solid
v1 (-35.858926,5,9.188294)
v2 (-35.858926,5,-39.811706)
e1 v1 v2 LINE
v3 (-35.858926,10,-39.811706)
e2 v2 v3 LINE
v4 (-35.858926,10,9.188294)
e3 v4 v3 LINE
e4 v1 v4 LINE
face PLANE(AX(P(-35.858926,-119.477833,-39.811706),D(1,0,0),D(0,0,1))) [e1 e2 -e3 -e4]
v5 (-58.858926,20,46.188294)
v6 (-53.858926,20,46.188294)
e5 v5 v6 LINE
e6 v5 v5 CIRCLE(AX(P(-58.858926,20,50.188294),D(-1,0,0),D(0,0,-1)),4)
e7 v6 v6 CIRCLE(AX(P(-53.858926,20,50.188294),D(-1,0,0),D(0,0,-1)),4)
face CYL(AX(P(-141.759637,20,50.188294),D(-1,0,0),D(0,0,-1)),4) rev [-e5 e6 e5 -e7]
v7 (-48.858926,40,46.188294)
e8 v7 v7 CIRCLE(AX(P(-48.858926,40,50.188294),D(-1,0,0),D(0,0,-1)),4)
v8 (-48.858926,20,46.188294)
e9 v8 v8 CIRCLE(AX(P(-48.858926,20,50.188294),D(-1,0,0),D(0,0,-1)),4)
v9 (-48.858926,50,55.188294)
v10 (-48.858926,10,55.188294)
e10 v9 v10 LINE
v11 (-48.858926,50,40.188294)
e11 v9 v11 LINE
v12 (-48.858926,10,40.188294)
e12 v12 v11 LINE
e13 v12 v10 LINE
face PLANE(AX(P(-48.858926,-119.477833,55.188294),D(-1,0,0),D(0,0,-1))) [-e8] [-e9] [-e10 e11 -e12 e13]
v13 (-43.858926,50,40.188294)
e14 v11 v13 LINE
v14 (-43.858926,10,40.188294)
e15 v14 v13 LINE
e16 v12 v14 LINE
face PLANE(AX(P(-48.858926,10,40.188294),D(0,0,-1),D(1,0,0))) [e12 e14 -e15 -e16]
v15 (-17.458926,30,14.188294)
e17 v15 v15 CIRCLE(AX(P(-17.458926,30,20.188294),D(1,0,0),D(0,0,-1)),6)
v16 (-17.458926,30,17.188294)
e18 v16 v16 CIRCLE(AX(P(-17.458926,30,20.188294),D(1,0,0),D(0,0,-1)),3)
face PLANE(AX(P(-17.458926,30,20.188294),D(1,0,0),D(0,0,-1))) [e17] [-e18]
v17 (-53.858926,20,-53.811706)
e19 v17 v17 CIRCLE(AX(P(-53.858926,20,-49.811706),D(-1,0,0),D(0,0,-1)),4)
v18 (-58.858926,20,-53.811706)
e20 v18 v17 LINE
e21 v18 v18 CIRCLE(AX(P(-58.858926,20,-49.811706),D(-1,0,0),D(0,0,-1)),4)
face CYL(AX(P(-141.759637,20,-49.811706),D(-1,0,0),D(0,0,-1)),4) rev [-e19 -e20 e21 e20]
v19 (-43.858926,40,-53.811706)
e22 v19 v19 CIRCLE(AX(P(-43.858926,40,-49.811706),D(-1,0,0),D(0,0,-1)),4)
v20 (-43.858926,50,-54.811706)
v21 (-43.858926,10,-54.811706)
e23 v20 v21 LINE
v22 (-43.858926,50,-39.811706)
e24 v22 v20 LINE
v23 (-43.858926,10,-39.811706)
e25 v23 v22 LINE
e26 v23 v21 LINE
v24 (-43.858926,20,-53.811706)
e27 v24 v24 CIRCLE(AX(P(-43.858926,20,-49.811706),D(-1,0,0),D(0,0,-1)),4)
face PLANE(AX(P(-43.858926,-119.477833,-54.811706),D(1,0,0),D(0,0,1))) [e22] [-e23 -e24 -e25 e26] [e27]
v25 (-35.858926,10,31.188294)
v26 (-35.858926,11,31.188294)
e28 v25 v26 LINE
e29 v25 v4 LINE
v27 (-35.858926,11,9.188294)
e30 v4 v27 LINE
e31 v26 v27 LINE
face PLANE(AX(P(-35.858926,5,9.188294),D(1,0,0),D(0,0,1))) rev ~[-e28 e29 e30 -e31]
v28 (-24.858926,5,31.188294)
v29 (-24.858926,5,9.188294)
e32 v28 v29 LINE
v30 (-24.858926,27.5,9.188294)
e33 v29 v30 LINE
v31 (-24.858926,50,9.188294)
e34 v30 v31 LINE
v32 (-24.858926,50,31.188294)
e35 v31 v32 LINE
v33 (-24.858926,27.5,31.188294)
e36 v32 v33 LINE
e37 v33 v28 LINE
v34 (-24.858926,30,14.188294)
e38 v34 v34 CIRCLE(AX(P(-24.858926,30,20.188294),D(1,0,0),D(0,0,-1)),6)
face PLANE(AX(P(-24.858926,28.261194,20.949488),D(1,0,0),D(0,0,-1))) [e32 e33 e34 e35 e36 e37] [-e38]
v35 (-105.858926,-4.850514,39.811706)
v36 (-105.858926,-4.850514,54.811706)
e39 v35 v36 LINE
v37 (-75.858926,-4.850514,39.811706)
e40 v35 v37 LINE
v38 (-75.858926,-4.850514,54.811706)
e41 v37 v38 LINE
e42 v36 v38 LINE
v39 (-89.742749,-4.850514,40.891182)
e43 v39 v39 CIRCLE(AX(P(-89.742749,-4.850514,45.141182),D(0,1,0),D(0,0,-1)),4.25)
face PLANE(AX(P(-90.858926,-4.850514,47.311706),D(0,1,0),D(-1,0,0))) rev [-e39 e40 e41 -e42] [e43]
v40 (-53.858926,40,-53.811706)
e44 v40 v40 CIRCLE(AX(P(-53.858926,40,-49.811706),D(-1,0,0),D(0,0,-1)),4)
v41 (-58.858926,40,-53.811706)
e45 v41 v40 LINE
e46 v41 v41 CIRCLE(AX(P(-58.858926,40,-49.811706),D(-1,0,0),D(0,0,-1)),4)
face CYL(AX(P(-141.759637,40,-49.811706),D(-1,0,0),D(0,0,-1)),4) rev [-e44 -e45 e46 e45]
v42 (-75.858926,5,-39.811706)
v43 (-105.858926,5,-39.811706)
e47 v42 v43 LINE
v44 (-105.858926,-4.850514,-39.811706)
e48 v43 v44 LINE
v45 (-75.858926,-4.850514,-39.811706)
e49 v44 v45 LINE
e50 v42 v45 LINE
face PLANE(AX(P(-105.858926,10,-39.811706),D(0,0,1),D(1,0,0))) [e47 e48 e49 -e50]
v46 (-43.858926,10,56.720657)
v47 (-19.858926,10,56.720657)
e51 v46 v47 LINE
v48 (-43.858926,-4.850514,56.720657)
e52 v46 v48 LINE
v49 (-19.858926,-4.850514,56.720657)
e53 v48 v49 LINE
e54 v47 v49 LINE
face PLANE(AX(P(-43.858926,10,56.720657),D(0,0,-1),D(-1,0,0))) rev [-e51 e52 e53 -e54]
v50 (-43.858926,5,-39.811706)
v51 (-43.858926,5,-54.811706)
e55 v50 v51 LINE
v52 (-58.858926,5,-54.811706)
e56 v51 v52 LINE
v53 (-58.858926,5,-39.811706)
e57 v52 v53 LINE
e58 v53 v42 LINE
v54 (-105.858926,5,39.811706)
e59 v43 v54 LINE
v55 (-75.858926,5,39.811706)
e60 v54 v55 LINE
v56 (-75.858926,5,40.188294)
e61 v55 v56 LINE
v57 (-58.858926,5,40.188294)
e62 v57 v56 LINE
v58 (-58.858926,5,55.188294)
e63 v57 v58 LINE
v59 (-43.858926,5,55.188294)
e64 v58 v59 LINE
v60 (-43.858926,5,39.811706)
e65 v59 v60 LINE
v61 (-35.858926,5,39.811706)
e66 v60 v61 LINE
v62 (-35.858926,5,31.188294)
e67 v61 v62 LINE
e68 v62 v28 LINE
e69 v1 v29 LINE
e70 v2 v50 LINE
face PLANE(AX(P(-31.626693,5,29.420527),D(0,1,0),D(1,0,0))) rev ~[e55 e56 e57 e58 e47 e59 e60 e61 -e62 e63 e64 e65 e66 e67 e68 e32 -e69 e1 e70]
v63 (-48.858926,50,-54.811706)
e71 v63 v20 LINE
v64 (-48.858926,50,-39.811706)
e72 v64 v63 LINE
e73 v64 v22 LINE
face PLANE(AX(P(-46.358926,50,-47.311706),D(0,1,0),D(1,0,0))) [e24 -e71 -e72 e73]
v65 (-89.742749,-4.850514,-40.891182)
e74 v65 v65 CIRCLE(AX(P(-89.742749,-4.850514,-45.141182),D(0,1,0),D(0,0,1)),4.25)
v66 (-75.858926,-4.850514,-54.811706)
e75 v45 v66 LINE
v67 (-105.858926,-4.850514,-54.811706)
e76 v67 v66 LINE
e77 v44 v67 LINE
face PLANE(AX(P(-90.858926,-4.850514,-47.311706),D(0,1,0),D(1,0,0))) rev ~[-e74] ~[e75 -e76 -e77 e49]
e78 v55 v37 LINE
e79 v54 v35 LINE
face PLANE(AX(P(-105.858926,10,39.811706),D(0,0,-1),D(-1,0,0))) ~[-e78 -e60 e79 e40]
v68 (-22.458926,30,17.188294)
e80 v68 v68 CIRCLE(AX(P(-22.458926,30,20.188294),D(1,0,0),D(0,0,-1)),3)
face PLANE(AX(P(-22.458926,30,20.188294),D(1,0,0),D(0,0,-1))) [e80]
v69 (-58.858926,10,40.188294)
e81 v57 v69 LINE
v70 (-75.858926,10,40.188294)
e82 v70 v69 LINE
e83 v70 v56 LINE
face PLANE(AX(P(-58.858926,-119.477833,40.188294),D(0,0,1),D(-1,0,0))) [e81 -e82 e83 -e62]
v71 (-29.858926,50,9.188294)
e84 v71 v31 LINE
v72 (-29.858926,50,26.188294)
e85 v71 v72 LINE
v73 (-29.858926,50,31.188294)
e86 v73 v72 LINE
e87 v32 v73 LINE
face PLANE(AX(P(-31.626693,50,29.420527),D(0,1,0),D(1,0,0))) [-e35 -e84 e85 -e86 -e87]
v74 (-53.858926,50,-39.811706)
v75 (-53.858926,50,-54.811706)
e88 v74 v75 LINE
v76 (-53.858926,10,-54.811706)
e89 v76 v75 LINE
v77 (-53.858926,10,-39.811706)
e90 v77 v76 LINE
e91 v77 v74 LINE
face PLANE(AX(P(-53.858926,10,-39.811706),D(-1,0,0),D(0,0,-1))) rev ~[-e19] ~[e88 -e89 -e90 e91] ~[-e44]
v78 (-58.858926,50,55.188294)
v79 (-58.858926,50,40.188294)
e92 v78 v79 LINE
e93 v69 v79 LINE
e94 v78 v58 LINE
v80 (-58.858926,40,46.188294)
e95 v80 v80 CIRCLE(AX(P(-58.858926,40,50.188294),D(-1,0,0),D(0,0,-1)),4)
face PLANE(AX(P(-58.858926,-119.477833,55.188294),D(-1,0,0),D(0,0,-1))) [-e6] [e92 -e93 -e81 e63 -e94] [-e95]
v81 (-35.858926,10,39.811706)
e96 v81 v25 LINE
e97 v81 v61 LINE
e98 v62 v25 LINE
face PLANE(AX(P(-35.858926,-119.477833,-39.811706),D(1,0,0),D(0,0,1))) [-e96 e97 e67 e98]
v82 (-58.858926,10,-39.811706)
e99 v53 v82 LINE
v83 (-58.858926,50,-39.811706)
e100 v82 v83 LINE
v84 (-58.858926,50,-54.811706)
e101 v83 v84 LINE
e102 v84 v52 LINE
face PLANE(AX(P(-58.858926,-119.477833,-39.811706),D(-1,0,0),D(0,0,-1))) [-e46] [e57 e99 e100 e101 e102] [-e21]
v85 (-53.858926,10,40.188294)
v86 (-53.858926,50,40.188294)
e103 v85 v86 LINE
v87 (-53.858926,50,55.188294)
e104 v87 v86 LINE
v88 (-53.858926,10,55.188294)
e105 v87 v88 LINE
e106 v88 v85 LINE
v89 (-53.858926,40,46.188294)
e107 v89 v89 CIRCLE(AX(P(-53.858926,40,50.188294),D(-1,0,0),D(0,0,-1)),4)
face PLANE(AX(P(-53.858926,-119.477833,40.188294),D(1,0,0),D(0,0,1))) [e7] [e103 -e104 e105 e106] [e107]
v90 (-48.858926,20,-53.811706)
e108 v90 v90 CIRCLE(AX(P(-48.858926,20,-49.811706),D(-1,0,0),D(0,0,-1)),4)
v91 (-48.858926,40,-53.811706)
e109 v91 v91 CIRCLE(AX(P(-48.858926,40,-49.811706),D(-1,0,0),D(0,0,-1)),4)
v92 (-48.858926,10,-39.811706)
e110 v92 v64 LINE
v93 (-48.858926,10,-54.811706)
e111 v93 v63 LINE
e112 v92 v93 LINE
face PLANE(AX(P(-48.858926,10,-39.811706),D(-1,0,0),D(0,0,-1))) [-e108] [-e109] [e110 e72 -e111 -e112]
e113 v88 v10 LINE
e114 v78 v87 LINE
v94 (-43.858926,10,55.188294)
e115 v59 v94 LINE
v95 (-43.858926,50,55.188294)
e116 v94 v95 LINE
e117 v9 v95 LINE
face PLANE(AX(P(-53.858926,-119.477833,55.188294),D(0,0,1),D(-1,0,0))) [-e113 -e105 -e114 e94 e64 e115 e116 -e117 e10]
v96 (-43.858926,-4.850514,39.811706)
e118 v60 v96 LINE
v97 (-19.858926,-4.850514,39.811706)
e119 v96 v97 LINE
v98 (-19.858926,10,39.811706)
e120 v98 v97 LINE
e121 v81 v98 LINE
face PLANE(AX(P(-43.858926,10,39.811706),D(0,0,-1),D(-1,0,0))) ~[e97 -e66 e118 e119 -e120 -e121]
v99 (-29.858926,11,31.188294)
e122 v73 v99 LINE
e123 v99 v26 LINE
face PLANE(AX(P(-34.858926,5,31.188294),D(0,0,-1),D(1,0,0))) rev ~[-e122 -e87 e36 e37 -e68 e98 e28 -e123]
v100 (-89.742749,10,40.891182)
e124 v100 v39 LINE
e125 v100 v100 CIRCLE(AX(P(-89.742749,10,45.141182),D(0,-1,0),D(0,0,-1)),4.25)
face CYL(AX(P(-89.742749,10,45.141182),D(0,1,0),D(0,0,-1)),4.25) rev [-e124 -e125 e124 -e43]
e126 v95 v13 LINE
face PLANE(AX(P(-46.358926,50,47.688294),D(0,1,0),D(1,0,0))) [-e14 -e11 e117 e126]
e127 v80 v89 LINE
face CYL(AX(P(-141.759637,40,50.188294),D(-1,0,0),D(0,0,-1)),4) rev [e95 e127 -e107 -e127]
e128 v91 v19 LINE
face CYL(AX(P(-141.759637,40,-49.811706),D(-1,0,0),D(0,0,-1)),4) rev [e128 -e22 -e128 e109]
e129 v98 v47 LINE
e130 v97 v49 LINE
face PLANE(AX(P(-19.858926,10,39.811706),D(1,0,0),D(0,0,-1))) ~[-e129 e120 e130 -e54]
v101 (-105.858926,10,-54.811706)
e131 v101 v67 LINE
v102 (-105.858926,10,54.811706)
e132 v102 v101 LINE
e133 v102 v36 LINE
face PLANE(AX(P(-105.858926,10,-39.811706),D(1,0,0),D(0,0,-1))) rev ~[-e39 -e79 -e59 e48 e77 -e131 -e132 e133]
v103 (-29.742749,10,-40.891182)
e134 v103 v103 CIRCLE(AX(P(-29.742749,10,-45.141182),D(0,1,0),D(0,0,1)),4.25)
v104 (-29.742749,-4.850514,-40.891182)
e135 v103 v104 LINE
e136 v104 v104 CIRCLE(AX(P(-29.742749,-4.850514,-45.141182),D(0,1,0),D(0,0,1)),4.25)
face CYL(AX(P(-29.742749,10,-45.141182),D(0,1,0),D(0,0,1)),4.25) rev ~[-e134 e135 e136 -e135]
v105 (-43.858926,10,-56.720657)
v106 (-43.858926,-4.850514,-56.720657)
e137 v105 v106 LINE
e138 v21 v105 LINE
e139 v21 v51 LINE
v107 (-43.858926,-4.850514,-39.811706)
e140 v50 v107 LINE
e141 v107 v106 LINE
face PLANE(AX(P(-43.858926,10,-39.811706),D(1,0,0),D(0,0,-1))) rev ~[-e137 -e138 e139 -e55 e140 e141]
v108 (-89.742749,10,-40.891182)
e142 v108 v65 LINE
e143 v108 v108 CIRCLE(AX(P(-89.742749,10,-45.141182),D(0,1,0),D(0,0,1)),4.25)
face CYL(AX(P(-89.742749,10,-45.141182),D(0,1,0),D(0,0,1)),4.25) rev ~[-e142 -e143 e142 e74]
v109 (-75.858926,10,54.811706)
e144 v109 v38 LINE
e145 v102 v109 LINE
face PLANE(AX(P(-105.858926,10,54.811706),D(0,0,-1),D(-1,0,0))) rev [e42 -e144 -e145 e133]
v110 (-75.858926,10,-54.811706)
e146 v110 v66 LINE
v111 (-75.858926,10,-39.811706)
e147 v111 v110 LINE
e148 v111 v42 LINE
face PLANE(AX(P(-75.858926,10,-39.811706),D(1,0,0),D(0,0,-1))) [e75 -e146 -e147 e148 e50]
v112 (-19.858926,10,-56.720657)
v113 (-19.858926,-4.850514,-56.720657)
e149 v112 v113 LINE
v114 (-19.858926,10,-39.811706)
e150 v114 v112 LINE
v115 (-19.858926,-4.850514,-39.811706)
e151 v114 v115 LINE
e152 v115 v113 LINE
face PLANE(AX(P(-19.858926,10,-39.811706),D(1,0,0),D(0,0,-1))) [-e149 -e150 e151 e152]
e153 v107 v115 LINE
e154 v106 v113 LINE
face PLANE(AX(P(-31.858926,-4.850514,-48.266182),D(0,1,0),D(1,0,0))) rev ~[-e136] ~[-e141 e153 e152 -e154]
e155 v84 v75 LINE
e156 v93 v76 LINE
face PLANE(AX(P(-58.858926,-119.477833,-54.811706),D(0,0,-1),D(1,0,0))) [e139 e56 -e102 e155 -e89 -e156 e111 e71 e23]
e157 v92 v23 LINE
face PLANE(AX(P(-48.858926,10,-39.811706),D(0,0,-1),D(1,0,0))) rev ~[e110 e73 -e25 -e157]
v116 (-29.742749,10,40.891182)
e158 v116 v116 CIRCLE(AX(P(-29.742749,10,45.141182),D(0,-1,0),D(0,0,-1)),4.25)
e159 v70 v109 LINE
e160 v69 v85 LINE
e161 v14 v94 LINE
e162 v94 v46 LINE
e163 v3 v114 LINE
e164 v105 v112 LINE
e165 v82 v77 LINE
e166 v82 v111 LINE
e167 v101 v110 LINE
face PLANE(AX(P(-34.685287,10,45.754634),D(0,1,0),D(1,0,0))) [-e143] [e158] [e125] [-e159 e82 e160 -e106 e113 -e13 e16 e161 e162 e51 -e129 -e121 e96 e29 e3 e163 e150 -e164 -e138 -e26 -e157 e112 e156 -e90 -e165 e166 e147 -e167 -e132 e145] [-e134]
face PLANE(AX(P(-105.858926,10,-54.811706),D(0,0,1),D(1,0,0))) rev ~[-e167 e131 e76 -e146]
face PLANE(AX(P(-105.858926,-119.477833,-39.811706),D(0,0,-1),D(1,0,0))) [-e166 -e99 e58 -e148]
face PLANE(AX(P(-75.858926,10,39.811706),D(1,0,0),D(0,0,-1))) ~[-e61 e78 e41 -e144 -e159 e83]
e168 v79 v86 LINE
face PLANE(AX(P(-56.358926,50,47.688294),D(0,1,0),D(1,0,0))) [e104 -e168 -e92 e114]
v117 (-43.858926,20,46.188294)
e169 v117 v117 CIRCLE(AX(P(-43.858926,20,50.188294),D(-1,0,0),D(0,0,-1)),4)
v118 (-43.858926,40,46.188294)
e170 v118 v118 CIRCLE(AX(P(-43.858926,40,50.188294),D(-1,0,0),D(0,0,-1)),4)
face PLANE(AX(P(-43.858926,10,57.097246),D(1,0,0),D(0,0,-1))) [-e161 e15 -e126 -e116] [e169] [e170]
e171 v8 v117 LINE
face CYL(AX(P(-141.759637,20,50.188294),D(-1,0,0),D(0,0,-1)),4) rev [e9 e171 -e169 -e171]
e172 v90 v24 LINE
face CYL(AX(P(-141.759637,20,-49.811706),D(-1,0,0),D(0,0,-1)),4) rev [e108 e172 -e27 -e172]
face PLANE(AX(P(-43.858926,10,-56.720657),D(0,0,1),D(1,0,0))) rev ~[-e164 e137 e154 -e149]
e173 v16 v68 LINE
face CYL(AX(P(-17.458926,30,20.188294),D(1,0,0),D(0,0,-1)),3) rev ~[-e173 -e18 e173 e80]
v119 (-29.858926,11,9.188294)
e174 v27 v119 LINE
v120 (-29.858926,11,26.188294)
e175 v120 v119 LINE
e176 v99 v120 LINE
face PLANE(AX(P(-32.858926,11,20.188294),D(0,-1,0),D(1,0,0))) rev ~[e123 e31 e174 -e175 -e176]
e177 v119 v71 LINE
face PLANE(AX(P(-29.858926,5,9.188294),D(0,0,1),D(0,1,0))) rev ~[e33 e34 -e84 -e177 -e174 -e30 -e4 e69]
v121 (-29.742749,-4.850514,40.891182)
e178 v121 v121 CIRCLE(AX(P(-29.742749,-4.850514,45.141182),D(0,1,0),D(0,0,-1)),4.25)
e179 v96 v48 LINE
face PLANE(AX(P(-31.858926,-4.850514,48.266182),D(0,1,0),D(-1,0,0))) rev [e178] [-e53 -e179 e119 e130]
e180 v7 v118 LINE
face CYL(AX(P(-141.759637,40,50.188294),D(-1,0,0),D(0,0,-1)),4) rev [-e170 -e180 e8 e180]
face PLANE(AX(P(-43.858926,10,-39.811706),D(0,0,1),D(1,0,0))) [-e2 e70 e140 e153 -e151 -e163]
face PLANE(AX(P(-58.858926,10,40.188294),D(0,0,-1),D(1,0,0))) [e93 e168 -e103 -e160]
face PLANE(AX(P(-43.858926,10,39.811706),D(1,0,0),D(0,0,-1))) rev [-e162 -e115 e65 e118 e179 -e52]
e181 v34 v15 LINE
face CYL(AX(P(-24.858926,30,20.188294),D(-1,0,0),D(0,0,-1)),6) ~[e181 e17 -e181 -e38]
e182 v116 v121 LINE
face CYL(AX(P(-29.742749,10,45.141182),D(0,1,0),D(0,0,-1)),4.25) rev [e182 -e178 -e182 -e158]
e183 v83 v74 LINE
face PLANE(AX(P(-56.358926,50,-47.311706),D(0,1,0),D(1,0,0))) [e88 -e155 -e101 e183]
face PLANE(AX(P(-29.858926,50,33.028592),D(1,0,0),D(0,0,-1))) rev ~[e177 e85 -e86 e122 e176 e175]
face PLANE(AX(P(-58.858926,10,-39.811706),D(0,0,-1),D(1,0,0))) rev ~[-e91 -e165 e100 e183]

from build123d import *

# Parameters (mm, degrees)
SKETCH_1_W                = 211.717851242
SKETCH_1_H                = 121.662509304
EXTRUDE_1_DEPTH           = 10
SKETCH_2_W                = 5
SKETCH_2_H                = 15
EXTRUDE_2_DEPTH           = 40
CUT_EXTRUDE_1_DEPTH       = 129.477833404
CUT_EXTRUDE_1_DEPTH_BACK  = 129.477833404
SKETCH_3_OUTSIDE_W        = 263.568
SKETCH_3_OUTSIDE_H        = 173.512
SKETCH_4_W                = 15
SKETCH_4_H                = 15
EXTRUDE_3_DEPTH           = 10
CUT_EXTRUDE_2_DEPTH       = 130.428976448
CUT_EXTRUDE_2_DEPTH_BACK  = 5
SKETCH_5_W                = 251.048169007
SKETCH_5_H                = 208.83861988
CUT_EXTRUDE_3_DEPTH       = 97.900711095
CUT_EXTRUDE_3_DEPTH_BACK  = 97.900711095
SKETCH_7_R                = 4
SKETCH_8_W                = 6
SKETCH_8_H                = 22
EXTRUDE_6_DEPTH           = 6
CUT_EXTRUDE_4_DEPTH       = 128.58079771
CUT_EXTRUDE_4_DEPTH_BACK  = 128.58079771
SKETCH_10_W               = 17
SKETCH_10_H               = 6
EXTRUDE_7_DEPTH           = 5
SKETCH_11_R               = 11
EXTRUDE_8_DEPTH           = 0.6
SKETCH_12_R               = 6
EXTRUDE_9_DEPTH           = 7.4
CUT_EXTRUDE_10_DEPTH      = 116.586797735
CUT_EXTRUDE_10_DEPTH_BACK = 3
SKETCH_13_R               = 3
EXTRUDE_10_DEPTH          = 45
SKETCH_15_R               = 9.319080667
CUT_EXTRUDE_11_DEPTH      = 38
SKETCH_16_R               = 6
EXTRUDE_11_DEPTH          = 7.4
SKETCH_17_R               = 3
CUT_EXTRUDE_12_DEPTH      = 5
SKETCH_18_W               = 30
SKETCH_18_H               = 15
EXTRUDE_12_DEPTH          = 14.850514471
EXTRUDE_13_DEPTH          = 14.850514471
SKETCH_22_W               = 24
SKETCH_22_H               = 16.908951495
EXTRUDE_14_DEPTH          = 14.850514471
SKETCH_23_R               = 4.25
CUT_EXTRUDE_15_DEPTH      = 60
EXTRUDE_15_DEPTH          = 14.850514471
SKETCH_25_R               = 4.25
CUT_EXTRUDE_16_DEPTH      = 60
SKETCH_19_R               = 4.25
CUT_EXTRUDE_17_DEPTH      = 60
SKETCH_26_W               = 38.044769018
SKETCH_26_H               = 21.34609726
SKETCH_26_W_2             = 24.699869201
SKETCH_26_H_2             = 16.908951494
CUT_EXTRUDE_18_DEPTH      = 60
SKETCH_27_W               = 6.321147669
SKETCH_27_H               = 14.747228213
CUT_EXTRUDE_19_DEPTH      = 39


with BuildPart() as part:
    # 草图1 → 凸台-拉伸1 (new body)
    with BuildSketch(Plane(origin=(0, 0, 0), x_dir=(1, 0, 0), z_dir=(0, 1, 0))):
        Rectangle(SKETCH_1_W, SKETCH_1_H)
    extrude(amount=EXTRUDE_1_DEPTH)

    # 草图2 → 凸台-拉伸2 (add)
    with BuildSketch(Plane(origin=(0, 10, 0), x_dir=(1, 0, 0), z_dir=(0, 1, 0))):
        with Locations((-46.358925621, 47.311705854)):
            Rectangle(SKETCH_2_W, SKETCH_2_H)
        with Locations((-56.358925621, 47.311705854)):
            Rectangle(SKETCH_2_W, SKETCH_2_H)
        with Locations((-46.358925621, -47.688294146)):
            Rectangle(SKETCH_2_W, SKETCH_2_H)
        with Locations((-56.358925621, -47.688294146)):
            Rectangle(SKETCH_2_W, SKETCH_2_H)
    extrude(amount=EXTRUDE_2_DEPTH)

    # 草图3 outside → 切除-拉伸1 (cut, two sides: drawn at the far end of the back side and taken through both)
    with BuildSketch(Plane(origin=(0, 10, 0), x_dir=(1, 0, 0), z_dir=(0, 1, 0)).offset(-CUT_EXTRUDE_1_DEPTH_BACK)):
        Rectangle(SKETCH_3_OUTSIDE_W, SKETCH_3_OUTSIDE_H)
        Polygon((-105.858925621, 39.811705854), (-58.858925621, 39.811705854), (-58.858925621, 54.811705854), (-43.858925621, 54.811705854), (-43.858925621, 39.811705854), (-35.858925621, 39.811705854), (-35.858925621, -40.188294146), (-43.858925621, -40.188294146), (-43.858925621, -55.188294146), (-48.858925621, -55.188294146), (-48.858925621, -40.188294146), (-53.858925621, -40.188294146), (-53.858925621, -55.188294146), (-58.858925621, -55.188294146), (-58.858925621, -40.188294146), (-106.714815402, -40.188294146), align=None, mode=Mode.SUBTRACT)
    extrude(amount=CUT_EXTRUDE_1_DEPTH + CUT_EXTRUDE_1_DEPTH_BACK, mode=Mode.SUBTRACT)

    # 草图4 → 凸台-拉伸3 (add)
    with BuildSketch(Plane.XZ):
        with Locations((-51.358925621, 47.688294146)):
            Rectangle(SKETCH_4_W, SKETCH_4_H)
    extrude(amount=-EXTRUDE_3_DEPTH)

    # 草图5 → 切除-拉伸2 (cut, two sides: drawn at the far end of the back side and taken through both)
    with BuildSketch(Plane.XZ.offset(-CUT_EXTRUDE_2_DEPTH_BACK)):
        with Locations((-99.962010128, 39.987109066)):
            Rectangle(SKETCH_5_W, SKETCH_5_H)
    extrude(amount=CUT_EXTRUDE_2_DEPTH + CUT_EXTRUDE_2_DEPTH_BACK, mode=Mode.SUBTRACT)

    # 草图7 → 切除-拉伸3 (cut, two sides: drawn at the far end of the back side and taken through both)
    with BuildSketch(Plane(origin=(-43.858925621, 0, 0), x_dir=(0, 0, -1), z_dir=(1, 0, 0)).offset(-CUT_EXTRUDE_3_DEPTH_BACK)):
        with Locations((-50.188294146, 40)):
            Circle(SKETCH_7_R)
        with Locations((-50.188294146, 20)):
            Circle(SKETCH_7_R)
        with Locations((49.811705854, 40)):
            Circle(SKETCH_7_R)
        with Locations((49.811705854, 20)):
            Circle(SKETCH_7_R)
    extrude(amount=CUT_EXTRUDE_3_DEPTH + CUT_EXTRUDE_3_DEPTH_BACK, mode=Mode.SUBTRACT)

    # 草图8 → 凸台-拉伸6 (add)
    with BuildSketch(Plane.XZ.offset(-5)):
        with Locations((-32.858925621, 20.188294146)):
            Rectangle(SKETCH_8_W, SKETCH_8_H)
    extrude(amount=-EXTRUDE_6_DEPTH)

    # 草图9 → 切除-拉伸4 (cut, two sides: drawn at the far end of the back side and taken through both)
    with BuildSketch(Plane.XZ.offset(-5).offset(-CUT_EXTRUDE_4_DEPTH_BACK)):
        Polygon((-34.858925621, 39.188294146), (-34.858925621, 31.188294146), (-29.207793941, 25.537162465), (-29.207793941, 39.188294146), align=None)
    extrude(amount=CUT_EXTRUDE_4_DEPTH + CUT_EXTRUDE_4_DEPTH_BACK, mode=Mode.SUBTRACT)

    # 草图10 → 凸台-拉伸7 (add)
    with BuildSketch(Plane(origin=(-29.858925621, 0, 0), x_dir=(0, 0, -1), z_dir=(1, 0, 0))):
        Polygon((-31.188294146, 5), (-26.188294146, 5), (-26.188294146, 11), (-9.188294146, 11), (-9.188294146, 50), (-31.188294146, 50), align=None)
        with Locations((-17.688294146, 8)):
            Rectangle(SKETCH_10_W, SKETCH_10_H)
    extrude(amount=EXTRUDE_7_DEPTH)

    # 草图11 → 凸台-拉伸8 (add)
    with BuildSketch(Plane(origin=(-24.858925621, 0, 0), x_dir=(0, 0, -1), z_dir=(1, 0, 0))):
        with Locations((-20.188294146, 27.5)):
            Circle(SKETCH_11_R)
    extrude(amount=-EXTRUDE_8_DEPTH)

    # 草图12 → 凸台-拉伸9 (add)
    with BuildSketch(Plane(origin=(-24.858925621, 0, 0), x_dir=(0, 0, -1), z_dir=(1, 0, 0))):
        with Locations((-20.188294146, 27.5)):
            Circle(SKETCH_12_R)
    extrude(amount=EXTRUDE_9_DEPTH)

    # 草图13 → 切除-拉伸10 (cut, two sides: drawn at the far end of the back side and taken through both)
    with BuildSketch(Plane(origin=(-17.458925621, 0, 0), x_dir=(0, 0, -1), z_dir=(1, 0, 0)).offset(-CUT_EXTRUDE_10_DEPTH_BACK)):
        with Locations(Location((-20.188294146, 27.5, 0), (0, 0, 180))):
            Circle(SKETCH_13_R)
    extrude(amount=CUT_EXTRUDE_10_DEPTH + CUT_EXTRUDE_10_DEPTH_BACK, mode=Mode.SUBTRACT)

    # 草图14 → 凸台-拉伸10 (add)
    with BuildSketch(Plane(origin=(0, 5, 0), x_dir=(-1, 0, 0), z_dir=(0, -1, 0))):
        Polygon((34.858925621, -31.188294146), (29.858925621, -31.188294146), (29.858925621, -26.188294146), align=None)
    extrude(amount=-EXTRUDE_10_DEPTH)

    # 草图15 → 切除-拉伸11 (cut)
    with BuildSketch(Plane(origin=(-24.858925621, 0, 0), x_dir=(0, 0, -1), z_dir=(1, 0, 0))):
        with Locations((-20.188294146, 27.5)):
            Circle(SKETCH_15_R)
    extrude(amount=CUT_EXTRUDE_11_DEPTH, mode=Mode.SUBTRACT)

    # 草图16 → 凸台-拉伸11 (add)
    with BuildSketch(Plane(origin=(-24.858925621, 0, 0), x_dir=(0, 0, -1), z_dir=(1, 0, 0))):
        with Locations((-20.188294146, 30)):
            Circle(SKETCH_16_R)
    extrude(amount=EXTRUDE_11_DEPTH)

    # 草图17 → 切除-拉伸12 (cut)
    with BuildSketch(Plane(origin=(-17.458925621, 0, 0), x_dir=(0, 0, -1), z_dir=(1, 0, 0))):
        with Locations((-20.188294146, 30)):
            Circle(SKETCH_17_R)
    extrude(amount=-CUT_EXTRUDE_12_DEPTH, mode=Mode.SUBTRACT)

    # 草图18 → 凸台-拉伸12 (add)
    with BuildSketch(Plane(origin=(0, 10, 0), x_dir=(1, 0, 0), z_dir=(0, 1, 0))):
        with Locations((-90.858925621, 47.311705854)):
            Rectangle(SKETCH_18_W, SKETCH_18_H)
    extrude_12 = extrude(amount=-EXTRUDE_12_DEPTH)

    # 草图22 → 凸台-拉伸14 (add)
    with BuildSketch(Plane(origin=(0, 10, 0), x_dir=(1, 0, 0), z_dir=(0, 1, 0))):
        with Locations((-31.858925621, 48.266181602)):
            Rectangle(SKETCH_22_W, SKETCH_22_H)
    extrude_14 = extrude(amount=-EXTRUDE_14_DEPTH)

    # 草图23 → 切除-拉伸15 (cut)
    with BuildSketch(Plane(origin=(0, 10, 0), x_dir=(1, 0, 0), z_dir=(0, 1, 0))):
        with Locations(Location((-29.74274895, 45.141181602, 0), (0, 0, 270))):
            Circle(SKETCH_23_R)
    cut_extrude_15 = extrude(amount=-CUT_EXTRUDE_15_DEPTH, mode=Mode.SUBTRACT)

    # 草图24 → 凸台-拉伸15 (add)
    with BuildSketch(Plane(origin=(0, -4.850514471, 0), x_dir=(1, 0, 0), z_dir=(0, 1, 0))):
        Polygon((-43.858925621, -40.188294146), (-43.858925621, -57.09724564), (-19.74274895, -40.233286806), (-19.74274895, -40.188294146), align=None)
    extrude(amount=EXTRUDE_15_DEPTH)

    # 草图25 → 切除-拉伸16 (cut)
    with BuildSketch(Plane(origin=(0, 10, 0), x_dir=(1, 0, 0), z_dir=(0, 1, 0))):
        with Locations((-29.74274895, -45.517769893)):
            Circle(SKETCH_25_R)
    extrude(amount=-CUT_EXTRUDE_16_DEPTH, mode=Mode.SUBTRACT)

    # 草图19 → 切除-拉伸17 (cut)
    with BuildSketch(Plane(origin=(0, 10, 0), x_dir=(1, 0, 0), z_dir=(0, 1, 0))):
        with Locations(Location((-89.74274895, 45.141181602, 0), (0, 0, 270))):
            Circle(SKETCH_19_R)
    cut_extrude_17 = extrude(amount=-CUT_EXTRUDE_17_DEPTH, mode=Mode.SUBTRACT)


with BuildPart() as body_2:
    # 草图20 → 凸台-拉伸13 (new body)
    with BuildSketch(Plane(origin=(0, 10, 0), x_dir=(1, 0, 0), z_dir=(0, 1, 0))):
        Polygon((-105.858925621, -40.188294146), (-74.74274895, -56.834668943), (-74.74274895, -57.09724564), (-105.858925621, -57.09724564), align=None)
    extrude(amount=-EXTRUDE_13_DEPTH)


with BuildPart() as cut_extrude_18_tool:
    # 草图26 → 切除-拉伸18 (new body)
    with BuildSketch(Plane(origin=(0, 10, 0), x_dir=(1, 0, 0), z_dir=(0, 1, 0))):
        with Locations((-86.836541112, -50.861342776)):
            Rectangle(SKETCH_26_W, SKETCH_26_H)
        with Locations((-31.508991021, -48.642769893)):
            Rectangle(SKETCH_26_W_2, SKETCH_26_H_2)
    extrude(amount=-CUT_EXTRUDE_18_DEPTH)


with BuildPart() as part_1:
    add(part.part)

    # 切除-拉伸18: cut by cut_extrude_18_tool
    add(cut_extrude_18_tool.part, mode=Mode.SUBTRACT)

    # 镜向1: 凸台-拉伸12, 凸台-拉伸14, 切除-拉伸15, 切除-拉伸17 across plane
    add(extrude_12.mirror(Plane.XY))
    add(extrude_14.mirror(Plane.XY))
    add(cut_extrude_15.mirror(Plane.XY), mode=Mode.SUBTRACT)
    add(cut_extrude_17.mirror(Plane.XY), mode=Mode.SUBTRACT)

    # 草图27 → 切除-拉伸19 (cut)
    with BuildSketch(Plane(origin=(0, 50, 0), x_dir=(1, 0, 0), z_dir=(0, 1, 0))):
        with Locations((-33.019499456, -25.654978199)):
            Rectangle(SKETCH_27_W, SKETCH_27_H)
    extrude(amount=-CUT_EXTRUDE_19_DEPTH, mode=Mode.SUBTRACT)


with BuildPart() as body_2_1:
    add(body_2.part)

    # 切除-拉伸18: cut by cut_extrude_18_tool
    add(cut_extrude_18_tool.part, mode=Mode.SUBTRACT)


solid = part_1.part
